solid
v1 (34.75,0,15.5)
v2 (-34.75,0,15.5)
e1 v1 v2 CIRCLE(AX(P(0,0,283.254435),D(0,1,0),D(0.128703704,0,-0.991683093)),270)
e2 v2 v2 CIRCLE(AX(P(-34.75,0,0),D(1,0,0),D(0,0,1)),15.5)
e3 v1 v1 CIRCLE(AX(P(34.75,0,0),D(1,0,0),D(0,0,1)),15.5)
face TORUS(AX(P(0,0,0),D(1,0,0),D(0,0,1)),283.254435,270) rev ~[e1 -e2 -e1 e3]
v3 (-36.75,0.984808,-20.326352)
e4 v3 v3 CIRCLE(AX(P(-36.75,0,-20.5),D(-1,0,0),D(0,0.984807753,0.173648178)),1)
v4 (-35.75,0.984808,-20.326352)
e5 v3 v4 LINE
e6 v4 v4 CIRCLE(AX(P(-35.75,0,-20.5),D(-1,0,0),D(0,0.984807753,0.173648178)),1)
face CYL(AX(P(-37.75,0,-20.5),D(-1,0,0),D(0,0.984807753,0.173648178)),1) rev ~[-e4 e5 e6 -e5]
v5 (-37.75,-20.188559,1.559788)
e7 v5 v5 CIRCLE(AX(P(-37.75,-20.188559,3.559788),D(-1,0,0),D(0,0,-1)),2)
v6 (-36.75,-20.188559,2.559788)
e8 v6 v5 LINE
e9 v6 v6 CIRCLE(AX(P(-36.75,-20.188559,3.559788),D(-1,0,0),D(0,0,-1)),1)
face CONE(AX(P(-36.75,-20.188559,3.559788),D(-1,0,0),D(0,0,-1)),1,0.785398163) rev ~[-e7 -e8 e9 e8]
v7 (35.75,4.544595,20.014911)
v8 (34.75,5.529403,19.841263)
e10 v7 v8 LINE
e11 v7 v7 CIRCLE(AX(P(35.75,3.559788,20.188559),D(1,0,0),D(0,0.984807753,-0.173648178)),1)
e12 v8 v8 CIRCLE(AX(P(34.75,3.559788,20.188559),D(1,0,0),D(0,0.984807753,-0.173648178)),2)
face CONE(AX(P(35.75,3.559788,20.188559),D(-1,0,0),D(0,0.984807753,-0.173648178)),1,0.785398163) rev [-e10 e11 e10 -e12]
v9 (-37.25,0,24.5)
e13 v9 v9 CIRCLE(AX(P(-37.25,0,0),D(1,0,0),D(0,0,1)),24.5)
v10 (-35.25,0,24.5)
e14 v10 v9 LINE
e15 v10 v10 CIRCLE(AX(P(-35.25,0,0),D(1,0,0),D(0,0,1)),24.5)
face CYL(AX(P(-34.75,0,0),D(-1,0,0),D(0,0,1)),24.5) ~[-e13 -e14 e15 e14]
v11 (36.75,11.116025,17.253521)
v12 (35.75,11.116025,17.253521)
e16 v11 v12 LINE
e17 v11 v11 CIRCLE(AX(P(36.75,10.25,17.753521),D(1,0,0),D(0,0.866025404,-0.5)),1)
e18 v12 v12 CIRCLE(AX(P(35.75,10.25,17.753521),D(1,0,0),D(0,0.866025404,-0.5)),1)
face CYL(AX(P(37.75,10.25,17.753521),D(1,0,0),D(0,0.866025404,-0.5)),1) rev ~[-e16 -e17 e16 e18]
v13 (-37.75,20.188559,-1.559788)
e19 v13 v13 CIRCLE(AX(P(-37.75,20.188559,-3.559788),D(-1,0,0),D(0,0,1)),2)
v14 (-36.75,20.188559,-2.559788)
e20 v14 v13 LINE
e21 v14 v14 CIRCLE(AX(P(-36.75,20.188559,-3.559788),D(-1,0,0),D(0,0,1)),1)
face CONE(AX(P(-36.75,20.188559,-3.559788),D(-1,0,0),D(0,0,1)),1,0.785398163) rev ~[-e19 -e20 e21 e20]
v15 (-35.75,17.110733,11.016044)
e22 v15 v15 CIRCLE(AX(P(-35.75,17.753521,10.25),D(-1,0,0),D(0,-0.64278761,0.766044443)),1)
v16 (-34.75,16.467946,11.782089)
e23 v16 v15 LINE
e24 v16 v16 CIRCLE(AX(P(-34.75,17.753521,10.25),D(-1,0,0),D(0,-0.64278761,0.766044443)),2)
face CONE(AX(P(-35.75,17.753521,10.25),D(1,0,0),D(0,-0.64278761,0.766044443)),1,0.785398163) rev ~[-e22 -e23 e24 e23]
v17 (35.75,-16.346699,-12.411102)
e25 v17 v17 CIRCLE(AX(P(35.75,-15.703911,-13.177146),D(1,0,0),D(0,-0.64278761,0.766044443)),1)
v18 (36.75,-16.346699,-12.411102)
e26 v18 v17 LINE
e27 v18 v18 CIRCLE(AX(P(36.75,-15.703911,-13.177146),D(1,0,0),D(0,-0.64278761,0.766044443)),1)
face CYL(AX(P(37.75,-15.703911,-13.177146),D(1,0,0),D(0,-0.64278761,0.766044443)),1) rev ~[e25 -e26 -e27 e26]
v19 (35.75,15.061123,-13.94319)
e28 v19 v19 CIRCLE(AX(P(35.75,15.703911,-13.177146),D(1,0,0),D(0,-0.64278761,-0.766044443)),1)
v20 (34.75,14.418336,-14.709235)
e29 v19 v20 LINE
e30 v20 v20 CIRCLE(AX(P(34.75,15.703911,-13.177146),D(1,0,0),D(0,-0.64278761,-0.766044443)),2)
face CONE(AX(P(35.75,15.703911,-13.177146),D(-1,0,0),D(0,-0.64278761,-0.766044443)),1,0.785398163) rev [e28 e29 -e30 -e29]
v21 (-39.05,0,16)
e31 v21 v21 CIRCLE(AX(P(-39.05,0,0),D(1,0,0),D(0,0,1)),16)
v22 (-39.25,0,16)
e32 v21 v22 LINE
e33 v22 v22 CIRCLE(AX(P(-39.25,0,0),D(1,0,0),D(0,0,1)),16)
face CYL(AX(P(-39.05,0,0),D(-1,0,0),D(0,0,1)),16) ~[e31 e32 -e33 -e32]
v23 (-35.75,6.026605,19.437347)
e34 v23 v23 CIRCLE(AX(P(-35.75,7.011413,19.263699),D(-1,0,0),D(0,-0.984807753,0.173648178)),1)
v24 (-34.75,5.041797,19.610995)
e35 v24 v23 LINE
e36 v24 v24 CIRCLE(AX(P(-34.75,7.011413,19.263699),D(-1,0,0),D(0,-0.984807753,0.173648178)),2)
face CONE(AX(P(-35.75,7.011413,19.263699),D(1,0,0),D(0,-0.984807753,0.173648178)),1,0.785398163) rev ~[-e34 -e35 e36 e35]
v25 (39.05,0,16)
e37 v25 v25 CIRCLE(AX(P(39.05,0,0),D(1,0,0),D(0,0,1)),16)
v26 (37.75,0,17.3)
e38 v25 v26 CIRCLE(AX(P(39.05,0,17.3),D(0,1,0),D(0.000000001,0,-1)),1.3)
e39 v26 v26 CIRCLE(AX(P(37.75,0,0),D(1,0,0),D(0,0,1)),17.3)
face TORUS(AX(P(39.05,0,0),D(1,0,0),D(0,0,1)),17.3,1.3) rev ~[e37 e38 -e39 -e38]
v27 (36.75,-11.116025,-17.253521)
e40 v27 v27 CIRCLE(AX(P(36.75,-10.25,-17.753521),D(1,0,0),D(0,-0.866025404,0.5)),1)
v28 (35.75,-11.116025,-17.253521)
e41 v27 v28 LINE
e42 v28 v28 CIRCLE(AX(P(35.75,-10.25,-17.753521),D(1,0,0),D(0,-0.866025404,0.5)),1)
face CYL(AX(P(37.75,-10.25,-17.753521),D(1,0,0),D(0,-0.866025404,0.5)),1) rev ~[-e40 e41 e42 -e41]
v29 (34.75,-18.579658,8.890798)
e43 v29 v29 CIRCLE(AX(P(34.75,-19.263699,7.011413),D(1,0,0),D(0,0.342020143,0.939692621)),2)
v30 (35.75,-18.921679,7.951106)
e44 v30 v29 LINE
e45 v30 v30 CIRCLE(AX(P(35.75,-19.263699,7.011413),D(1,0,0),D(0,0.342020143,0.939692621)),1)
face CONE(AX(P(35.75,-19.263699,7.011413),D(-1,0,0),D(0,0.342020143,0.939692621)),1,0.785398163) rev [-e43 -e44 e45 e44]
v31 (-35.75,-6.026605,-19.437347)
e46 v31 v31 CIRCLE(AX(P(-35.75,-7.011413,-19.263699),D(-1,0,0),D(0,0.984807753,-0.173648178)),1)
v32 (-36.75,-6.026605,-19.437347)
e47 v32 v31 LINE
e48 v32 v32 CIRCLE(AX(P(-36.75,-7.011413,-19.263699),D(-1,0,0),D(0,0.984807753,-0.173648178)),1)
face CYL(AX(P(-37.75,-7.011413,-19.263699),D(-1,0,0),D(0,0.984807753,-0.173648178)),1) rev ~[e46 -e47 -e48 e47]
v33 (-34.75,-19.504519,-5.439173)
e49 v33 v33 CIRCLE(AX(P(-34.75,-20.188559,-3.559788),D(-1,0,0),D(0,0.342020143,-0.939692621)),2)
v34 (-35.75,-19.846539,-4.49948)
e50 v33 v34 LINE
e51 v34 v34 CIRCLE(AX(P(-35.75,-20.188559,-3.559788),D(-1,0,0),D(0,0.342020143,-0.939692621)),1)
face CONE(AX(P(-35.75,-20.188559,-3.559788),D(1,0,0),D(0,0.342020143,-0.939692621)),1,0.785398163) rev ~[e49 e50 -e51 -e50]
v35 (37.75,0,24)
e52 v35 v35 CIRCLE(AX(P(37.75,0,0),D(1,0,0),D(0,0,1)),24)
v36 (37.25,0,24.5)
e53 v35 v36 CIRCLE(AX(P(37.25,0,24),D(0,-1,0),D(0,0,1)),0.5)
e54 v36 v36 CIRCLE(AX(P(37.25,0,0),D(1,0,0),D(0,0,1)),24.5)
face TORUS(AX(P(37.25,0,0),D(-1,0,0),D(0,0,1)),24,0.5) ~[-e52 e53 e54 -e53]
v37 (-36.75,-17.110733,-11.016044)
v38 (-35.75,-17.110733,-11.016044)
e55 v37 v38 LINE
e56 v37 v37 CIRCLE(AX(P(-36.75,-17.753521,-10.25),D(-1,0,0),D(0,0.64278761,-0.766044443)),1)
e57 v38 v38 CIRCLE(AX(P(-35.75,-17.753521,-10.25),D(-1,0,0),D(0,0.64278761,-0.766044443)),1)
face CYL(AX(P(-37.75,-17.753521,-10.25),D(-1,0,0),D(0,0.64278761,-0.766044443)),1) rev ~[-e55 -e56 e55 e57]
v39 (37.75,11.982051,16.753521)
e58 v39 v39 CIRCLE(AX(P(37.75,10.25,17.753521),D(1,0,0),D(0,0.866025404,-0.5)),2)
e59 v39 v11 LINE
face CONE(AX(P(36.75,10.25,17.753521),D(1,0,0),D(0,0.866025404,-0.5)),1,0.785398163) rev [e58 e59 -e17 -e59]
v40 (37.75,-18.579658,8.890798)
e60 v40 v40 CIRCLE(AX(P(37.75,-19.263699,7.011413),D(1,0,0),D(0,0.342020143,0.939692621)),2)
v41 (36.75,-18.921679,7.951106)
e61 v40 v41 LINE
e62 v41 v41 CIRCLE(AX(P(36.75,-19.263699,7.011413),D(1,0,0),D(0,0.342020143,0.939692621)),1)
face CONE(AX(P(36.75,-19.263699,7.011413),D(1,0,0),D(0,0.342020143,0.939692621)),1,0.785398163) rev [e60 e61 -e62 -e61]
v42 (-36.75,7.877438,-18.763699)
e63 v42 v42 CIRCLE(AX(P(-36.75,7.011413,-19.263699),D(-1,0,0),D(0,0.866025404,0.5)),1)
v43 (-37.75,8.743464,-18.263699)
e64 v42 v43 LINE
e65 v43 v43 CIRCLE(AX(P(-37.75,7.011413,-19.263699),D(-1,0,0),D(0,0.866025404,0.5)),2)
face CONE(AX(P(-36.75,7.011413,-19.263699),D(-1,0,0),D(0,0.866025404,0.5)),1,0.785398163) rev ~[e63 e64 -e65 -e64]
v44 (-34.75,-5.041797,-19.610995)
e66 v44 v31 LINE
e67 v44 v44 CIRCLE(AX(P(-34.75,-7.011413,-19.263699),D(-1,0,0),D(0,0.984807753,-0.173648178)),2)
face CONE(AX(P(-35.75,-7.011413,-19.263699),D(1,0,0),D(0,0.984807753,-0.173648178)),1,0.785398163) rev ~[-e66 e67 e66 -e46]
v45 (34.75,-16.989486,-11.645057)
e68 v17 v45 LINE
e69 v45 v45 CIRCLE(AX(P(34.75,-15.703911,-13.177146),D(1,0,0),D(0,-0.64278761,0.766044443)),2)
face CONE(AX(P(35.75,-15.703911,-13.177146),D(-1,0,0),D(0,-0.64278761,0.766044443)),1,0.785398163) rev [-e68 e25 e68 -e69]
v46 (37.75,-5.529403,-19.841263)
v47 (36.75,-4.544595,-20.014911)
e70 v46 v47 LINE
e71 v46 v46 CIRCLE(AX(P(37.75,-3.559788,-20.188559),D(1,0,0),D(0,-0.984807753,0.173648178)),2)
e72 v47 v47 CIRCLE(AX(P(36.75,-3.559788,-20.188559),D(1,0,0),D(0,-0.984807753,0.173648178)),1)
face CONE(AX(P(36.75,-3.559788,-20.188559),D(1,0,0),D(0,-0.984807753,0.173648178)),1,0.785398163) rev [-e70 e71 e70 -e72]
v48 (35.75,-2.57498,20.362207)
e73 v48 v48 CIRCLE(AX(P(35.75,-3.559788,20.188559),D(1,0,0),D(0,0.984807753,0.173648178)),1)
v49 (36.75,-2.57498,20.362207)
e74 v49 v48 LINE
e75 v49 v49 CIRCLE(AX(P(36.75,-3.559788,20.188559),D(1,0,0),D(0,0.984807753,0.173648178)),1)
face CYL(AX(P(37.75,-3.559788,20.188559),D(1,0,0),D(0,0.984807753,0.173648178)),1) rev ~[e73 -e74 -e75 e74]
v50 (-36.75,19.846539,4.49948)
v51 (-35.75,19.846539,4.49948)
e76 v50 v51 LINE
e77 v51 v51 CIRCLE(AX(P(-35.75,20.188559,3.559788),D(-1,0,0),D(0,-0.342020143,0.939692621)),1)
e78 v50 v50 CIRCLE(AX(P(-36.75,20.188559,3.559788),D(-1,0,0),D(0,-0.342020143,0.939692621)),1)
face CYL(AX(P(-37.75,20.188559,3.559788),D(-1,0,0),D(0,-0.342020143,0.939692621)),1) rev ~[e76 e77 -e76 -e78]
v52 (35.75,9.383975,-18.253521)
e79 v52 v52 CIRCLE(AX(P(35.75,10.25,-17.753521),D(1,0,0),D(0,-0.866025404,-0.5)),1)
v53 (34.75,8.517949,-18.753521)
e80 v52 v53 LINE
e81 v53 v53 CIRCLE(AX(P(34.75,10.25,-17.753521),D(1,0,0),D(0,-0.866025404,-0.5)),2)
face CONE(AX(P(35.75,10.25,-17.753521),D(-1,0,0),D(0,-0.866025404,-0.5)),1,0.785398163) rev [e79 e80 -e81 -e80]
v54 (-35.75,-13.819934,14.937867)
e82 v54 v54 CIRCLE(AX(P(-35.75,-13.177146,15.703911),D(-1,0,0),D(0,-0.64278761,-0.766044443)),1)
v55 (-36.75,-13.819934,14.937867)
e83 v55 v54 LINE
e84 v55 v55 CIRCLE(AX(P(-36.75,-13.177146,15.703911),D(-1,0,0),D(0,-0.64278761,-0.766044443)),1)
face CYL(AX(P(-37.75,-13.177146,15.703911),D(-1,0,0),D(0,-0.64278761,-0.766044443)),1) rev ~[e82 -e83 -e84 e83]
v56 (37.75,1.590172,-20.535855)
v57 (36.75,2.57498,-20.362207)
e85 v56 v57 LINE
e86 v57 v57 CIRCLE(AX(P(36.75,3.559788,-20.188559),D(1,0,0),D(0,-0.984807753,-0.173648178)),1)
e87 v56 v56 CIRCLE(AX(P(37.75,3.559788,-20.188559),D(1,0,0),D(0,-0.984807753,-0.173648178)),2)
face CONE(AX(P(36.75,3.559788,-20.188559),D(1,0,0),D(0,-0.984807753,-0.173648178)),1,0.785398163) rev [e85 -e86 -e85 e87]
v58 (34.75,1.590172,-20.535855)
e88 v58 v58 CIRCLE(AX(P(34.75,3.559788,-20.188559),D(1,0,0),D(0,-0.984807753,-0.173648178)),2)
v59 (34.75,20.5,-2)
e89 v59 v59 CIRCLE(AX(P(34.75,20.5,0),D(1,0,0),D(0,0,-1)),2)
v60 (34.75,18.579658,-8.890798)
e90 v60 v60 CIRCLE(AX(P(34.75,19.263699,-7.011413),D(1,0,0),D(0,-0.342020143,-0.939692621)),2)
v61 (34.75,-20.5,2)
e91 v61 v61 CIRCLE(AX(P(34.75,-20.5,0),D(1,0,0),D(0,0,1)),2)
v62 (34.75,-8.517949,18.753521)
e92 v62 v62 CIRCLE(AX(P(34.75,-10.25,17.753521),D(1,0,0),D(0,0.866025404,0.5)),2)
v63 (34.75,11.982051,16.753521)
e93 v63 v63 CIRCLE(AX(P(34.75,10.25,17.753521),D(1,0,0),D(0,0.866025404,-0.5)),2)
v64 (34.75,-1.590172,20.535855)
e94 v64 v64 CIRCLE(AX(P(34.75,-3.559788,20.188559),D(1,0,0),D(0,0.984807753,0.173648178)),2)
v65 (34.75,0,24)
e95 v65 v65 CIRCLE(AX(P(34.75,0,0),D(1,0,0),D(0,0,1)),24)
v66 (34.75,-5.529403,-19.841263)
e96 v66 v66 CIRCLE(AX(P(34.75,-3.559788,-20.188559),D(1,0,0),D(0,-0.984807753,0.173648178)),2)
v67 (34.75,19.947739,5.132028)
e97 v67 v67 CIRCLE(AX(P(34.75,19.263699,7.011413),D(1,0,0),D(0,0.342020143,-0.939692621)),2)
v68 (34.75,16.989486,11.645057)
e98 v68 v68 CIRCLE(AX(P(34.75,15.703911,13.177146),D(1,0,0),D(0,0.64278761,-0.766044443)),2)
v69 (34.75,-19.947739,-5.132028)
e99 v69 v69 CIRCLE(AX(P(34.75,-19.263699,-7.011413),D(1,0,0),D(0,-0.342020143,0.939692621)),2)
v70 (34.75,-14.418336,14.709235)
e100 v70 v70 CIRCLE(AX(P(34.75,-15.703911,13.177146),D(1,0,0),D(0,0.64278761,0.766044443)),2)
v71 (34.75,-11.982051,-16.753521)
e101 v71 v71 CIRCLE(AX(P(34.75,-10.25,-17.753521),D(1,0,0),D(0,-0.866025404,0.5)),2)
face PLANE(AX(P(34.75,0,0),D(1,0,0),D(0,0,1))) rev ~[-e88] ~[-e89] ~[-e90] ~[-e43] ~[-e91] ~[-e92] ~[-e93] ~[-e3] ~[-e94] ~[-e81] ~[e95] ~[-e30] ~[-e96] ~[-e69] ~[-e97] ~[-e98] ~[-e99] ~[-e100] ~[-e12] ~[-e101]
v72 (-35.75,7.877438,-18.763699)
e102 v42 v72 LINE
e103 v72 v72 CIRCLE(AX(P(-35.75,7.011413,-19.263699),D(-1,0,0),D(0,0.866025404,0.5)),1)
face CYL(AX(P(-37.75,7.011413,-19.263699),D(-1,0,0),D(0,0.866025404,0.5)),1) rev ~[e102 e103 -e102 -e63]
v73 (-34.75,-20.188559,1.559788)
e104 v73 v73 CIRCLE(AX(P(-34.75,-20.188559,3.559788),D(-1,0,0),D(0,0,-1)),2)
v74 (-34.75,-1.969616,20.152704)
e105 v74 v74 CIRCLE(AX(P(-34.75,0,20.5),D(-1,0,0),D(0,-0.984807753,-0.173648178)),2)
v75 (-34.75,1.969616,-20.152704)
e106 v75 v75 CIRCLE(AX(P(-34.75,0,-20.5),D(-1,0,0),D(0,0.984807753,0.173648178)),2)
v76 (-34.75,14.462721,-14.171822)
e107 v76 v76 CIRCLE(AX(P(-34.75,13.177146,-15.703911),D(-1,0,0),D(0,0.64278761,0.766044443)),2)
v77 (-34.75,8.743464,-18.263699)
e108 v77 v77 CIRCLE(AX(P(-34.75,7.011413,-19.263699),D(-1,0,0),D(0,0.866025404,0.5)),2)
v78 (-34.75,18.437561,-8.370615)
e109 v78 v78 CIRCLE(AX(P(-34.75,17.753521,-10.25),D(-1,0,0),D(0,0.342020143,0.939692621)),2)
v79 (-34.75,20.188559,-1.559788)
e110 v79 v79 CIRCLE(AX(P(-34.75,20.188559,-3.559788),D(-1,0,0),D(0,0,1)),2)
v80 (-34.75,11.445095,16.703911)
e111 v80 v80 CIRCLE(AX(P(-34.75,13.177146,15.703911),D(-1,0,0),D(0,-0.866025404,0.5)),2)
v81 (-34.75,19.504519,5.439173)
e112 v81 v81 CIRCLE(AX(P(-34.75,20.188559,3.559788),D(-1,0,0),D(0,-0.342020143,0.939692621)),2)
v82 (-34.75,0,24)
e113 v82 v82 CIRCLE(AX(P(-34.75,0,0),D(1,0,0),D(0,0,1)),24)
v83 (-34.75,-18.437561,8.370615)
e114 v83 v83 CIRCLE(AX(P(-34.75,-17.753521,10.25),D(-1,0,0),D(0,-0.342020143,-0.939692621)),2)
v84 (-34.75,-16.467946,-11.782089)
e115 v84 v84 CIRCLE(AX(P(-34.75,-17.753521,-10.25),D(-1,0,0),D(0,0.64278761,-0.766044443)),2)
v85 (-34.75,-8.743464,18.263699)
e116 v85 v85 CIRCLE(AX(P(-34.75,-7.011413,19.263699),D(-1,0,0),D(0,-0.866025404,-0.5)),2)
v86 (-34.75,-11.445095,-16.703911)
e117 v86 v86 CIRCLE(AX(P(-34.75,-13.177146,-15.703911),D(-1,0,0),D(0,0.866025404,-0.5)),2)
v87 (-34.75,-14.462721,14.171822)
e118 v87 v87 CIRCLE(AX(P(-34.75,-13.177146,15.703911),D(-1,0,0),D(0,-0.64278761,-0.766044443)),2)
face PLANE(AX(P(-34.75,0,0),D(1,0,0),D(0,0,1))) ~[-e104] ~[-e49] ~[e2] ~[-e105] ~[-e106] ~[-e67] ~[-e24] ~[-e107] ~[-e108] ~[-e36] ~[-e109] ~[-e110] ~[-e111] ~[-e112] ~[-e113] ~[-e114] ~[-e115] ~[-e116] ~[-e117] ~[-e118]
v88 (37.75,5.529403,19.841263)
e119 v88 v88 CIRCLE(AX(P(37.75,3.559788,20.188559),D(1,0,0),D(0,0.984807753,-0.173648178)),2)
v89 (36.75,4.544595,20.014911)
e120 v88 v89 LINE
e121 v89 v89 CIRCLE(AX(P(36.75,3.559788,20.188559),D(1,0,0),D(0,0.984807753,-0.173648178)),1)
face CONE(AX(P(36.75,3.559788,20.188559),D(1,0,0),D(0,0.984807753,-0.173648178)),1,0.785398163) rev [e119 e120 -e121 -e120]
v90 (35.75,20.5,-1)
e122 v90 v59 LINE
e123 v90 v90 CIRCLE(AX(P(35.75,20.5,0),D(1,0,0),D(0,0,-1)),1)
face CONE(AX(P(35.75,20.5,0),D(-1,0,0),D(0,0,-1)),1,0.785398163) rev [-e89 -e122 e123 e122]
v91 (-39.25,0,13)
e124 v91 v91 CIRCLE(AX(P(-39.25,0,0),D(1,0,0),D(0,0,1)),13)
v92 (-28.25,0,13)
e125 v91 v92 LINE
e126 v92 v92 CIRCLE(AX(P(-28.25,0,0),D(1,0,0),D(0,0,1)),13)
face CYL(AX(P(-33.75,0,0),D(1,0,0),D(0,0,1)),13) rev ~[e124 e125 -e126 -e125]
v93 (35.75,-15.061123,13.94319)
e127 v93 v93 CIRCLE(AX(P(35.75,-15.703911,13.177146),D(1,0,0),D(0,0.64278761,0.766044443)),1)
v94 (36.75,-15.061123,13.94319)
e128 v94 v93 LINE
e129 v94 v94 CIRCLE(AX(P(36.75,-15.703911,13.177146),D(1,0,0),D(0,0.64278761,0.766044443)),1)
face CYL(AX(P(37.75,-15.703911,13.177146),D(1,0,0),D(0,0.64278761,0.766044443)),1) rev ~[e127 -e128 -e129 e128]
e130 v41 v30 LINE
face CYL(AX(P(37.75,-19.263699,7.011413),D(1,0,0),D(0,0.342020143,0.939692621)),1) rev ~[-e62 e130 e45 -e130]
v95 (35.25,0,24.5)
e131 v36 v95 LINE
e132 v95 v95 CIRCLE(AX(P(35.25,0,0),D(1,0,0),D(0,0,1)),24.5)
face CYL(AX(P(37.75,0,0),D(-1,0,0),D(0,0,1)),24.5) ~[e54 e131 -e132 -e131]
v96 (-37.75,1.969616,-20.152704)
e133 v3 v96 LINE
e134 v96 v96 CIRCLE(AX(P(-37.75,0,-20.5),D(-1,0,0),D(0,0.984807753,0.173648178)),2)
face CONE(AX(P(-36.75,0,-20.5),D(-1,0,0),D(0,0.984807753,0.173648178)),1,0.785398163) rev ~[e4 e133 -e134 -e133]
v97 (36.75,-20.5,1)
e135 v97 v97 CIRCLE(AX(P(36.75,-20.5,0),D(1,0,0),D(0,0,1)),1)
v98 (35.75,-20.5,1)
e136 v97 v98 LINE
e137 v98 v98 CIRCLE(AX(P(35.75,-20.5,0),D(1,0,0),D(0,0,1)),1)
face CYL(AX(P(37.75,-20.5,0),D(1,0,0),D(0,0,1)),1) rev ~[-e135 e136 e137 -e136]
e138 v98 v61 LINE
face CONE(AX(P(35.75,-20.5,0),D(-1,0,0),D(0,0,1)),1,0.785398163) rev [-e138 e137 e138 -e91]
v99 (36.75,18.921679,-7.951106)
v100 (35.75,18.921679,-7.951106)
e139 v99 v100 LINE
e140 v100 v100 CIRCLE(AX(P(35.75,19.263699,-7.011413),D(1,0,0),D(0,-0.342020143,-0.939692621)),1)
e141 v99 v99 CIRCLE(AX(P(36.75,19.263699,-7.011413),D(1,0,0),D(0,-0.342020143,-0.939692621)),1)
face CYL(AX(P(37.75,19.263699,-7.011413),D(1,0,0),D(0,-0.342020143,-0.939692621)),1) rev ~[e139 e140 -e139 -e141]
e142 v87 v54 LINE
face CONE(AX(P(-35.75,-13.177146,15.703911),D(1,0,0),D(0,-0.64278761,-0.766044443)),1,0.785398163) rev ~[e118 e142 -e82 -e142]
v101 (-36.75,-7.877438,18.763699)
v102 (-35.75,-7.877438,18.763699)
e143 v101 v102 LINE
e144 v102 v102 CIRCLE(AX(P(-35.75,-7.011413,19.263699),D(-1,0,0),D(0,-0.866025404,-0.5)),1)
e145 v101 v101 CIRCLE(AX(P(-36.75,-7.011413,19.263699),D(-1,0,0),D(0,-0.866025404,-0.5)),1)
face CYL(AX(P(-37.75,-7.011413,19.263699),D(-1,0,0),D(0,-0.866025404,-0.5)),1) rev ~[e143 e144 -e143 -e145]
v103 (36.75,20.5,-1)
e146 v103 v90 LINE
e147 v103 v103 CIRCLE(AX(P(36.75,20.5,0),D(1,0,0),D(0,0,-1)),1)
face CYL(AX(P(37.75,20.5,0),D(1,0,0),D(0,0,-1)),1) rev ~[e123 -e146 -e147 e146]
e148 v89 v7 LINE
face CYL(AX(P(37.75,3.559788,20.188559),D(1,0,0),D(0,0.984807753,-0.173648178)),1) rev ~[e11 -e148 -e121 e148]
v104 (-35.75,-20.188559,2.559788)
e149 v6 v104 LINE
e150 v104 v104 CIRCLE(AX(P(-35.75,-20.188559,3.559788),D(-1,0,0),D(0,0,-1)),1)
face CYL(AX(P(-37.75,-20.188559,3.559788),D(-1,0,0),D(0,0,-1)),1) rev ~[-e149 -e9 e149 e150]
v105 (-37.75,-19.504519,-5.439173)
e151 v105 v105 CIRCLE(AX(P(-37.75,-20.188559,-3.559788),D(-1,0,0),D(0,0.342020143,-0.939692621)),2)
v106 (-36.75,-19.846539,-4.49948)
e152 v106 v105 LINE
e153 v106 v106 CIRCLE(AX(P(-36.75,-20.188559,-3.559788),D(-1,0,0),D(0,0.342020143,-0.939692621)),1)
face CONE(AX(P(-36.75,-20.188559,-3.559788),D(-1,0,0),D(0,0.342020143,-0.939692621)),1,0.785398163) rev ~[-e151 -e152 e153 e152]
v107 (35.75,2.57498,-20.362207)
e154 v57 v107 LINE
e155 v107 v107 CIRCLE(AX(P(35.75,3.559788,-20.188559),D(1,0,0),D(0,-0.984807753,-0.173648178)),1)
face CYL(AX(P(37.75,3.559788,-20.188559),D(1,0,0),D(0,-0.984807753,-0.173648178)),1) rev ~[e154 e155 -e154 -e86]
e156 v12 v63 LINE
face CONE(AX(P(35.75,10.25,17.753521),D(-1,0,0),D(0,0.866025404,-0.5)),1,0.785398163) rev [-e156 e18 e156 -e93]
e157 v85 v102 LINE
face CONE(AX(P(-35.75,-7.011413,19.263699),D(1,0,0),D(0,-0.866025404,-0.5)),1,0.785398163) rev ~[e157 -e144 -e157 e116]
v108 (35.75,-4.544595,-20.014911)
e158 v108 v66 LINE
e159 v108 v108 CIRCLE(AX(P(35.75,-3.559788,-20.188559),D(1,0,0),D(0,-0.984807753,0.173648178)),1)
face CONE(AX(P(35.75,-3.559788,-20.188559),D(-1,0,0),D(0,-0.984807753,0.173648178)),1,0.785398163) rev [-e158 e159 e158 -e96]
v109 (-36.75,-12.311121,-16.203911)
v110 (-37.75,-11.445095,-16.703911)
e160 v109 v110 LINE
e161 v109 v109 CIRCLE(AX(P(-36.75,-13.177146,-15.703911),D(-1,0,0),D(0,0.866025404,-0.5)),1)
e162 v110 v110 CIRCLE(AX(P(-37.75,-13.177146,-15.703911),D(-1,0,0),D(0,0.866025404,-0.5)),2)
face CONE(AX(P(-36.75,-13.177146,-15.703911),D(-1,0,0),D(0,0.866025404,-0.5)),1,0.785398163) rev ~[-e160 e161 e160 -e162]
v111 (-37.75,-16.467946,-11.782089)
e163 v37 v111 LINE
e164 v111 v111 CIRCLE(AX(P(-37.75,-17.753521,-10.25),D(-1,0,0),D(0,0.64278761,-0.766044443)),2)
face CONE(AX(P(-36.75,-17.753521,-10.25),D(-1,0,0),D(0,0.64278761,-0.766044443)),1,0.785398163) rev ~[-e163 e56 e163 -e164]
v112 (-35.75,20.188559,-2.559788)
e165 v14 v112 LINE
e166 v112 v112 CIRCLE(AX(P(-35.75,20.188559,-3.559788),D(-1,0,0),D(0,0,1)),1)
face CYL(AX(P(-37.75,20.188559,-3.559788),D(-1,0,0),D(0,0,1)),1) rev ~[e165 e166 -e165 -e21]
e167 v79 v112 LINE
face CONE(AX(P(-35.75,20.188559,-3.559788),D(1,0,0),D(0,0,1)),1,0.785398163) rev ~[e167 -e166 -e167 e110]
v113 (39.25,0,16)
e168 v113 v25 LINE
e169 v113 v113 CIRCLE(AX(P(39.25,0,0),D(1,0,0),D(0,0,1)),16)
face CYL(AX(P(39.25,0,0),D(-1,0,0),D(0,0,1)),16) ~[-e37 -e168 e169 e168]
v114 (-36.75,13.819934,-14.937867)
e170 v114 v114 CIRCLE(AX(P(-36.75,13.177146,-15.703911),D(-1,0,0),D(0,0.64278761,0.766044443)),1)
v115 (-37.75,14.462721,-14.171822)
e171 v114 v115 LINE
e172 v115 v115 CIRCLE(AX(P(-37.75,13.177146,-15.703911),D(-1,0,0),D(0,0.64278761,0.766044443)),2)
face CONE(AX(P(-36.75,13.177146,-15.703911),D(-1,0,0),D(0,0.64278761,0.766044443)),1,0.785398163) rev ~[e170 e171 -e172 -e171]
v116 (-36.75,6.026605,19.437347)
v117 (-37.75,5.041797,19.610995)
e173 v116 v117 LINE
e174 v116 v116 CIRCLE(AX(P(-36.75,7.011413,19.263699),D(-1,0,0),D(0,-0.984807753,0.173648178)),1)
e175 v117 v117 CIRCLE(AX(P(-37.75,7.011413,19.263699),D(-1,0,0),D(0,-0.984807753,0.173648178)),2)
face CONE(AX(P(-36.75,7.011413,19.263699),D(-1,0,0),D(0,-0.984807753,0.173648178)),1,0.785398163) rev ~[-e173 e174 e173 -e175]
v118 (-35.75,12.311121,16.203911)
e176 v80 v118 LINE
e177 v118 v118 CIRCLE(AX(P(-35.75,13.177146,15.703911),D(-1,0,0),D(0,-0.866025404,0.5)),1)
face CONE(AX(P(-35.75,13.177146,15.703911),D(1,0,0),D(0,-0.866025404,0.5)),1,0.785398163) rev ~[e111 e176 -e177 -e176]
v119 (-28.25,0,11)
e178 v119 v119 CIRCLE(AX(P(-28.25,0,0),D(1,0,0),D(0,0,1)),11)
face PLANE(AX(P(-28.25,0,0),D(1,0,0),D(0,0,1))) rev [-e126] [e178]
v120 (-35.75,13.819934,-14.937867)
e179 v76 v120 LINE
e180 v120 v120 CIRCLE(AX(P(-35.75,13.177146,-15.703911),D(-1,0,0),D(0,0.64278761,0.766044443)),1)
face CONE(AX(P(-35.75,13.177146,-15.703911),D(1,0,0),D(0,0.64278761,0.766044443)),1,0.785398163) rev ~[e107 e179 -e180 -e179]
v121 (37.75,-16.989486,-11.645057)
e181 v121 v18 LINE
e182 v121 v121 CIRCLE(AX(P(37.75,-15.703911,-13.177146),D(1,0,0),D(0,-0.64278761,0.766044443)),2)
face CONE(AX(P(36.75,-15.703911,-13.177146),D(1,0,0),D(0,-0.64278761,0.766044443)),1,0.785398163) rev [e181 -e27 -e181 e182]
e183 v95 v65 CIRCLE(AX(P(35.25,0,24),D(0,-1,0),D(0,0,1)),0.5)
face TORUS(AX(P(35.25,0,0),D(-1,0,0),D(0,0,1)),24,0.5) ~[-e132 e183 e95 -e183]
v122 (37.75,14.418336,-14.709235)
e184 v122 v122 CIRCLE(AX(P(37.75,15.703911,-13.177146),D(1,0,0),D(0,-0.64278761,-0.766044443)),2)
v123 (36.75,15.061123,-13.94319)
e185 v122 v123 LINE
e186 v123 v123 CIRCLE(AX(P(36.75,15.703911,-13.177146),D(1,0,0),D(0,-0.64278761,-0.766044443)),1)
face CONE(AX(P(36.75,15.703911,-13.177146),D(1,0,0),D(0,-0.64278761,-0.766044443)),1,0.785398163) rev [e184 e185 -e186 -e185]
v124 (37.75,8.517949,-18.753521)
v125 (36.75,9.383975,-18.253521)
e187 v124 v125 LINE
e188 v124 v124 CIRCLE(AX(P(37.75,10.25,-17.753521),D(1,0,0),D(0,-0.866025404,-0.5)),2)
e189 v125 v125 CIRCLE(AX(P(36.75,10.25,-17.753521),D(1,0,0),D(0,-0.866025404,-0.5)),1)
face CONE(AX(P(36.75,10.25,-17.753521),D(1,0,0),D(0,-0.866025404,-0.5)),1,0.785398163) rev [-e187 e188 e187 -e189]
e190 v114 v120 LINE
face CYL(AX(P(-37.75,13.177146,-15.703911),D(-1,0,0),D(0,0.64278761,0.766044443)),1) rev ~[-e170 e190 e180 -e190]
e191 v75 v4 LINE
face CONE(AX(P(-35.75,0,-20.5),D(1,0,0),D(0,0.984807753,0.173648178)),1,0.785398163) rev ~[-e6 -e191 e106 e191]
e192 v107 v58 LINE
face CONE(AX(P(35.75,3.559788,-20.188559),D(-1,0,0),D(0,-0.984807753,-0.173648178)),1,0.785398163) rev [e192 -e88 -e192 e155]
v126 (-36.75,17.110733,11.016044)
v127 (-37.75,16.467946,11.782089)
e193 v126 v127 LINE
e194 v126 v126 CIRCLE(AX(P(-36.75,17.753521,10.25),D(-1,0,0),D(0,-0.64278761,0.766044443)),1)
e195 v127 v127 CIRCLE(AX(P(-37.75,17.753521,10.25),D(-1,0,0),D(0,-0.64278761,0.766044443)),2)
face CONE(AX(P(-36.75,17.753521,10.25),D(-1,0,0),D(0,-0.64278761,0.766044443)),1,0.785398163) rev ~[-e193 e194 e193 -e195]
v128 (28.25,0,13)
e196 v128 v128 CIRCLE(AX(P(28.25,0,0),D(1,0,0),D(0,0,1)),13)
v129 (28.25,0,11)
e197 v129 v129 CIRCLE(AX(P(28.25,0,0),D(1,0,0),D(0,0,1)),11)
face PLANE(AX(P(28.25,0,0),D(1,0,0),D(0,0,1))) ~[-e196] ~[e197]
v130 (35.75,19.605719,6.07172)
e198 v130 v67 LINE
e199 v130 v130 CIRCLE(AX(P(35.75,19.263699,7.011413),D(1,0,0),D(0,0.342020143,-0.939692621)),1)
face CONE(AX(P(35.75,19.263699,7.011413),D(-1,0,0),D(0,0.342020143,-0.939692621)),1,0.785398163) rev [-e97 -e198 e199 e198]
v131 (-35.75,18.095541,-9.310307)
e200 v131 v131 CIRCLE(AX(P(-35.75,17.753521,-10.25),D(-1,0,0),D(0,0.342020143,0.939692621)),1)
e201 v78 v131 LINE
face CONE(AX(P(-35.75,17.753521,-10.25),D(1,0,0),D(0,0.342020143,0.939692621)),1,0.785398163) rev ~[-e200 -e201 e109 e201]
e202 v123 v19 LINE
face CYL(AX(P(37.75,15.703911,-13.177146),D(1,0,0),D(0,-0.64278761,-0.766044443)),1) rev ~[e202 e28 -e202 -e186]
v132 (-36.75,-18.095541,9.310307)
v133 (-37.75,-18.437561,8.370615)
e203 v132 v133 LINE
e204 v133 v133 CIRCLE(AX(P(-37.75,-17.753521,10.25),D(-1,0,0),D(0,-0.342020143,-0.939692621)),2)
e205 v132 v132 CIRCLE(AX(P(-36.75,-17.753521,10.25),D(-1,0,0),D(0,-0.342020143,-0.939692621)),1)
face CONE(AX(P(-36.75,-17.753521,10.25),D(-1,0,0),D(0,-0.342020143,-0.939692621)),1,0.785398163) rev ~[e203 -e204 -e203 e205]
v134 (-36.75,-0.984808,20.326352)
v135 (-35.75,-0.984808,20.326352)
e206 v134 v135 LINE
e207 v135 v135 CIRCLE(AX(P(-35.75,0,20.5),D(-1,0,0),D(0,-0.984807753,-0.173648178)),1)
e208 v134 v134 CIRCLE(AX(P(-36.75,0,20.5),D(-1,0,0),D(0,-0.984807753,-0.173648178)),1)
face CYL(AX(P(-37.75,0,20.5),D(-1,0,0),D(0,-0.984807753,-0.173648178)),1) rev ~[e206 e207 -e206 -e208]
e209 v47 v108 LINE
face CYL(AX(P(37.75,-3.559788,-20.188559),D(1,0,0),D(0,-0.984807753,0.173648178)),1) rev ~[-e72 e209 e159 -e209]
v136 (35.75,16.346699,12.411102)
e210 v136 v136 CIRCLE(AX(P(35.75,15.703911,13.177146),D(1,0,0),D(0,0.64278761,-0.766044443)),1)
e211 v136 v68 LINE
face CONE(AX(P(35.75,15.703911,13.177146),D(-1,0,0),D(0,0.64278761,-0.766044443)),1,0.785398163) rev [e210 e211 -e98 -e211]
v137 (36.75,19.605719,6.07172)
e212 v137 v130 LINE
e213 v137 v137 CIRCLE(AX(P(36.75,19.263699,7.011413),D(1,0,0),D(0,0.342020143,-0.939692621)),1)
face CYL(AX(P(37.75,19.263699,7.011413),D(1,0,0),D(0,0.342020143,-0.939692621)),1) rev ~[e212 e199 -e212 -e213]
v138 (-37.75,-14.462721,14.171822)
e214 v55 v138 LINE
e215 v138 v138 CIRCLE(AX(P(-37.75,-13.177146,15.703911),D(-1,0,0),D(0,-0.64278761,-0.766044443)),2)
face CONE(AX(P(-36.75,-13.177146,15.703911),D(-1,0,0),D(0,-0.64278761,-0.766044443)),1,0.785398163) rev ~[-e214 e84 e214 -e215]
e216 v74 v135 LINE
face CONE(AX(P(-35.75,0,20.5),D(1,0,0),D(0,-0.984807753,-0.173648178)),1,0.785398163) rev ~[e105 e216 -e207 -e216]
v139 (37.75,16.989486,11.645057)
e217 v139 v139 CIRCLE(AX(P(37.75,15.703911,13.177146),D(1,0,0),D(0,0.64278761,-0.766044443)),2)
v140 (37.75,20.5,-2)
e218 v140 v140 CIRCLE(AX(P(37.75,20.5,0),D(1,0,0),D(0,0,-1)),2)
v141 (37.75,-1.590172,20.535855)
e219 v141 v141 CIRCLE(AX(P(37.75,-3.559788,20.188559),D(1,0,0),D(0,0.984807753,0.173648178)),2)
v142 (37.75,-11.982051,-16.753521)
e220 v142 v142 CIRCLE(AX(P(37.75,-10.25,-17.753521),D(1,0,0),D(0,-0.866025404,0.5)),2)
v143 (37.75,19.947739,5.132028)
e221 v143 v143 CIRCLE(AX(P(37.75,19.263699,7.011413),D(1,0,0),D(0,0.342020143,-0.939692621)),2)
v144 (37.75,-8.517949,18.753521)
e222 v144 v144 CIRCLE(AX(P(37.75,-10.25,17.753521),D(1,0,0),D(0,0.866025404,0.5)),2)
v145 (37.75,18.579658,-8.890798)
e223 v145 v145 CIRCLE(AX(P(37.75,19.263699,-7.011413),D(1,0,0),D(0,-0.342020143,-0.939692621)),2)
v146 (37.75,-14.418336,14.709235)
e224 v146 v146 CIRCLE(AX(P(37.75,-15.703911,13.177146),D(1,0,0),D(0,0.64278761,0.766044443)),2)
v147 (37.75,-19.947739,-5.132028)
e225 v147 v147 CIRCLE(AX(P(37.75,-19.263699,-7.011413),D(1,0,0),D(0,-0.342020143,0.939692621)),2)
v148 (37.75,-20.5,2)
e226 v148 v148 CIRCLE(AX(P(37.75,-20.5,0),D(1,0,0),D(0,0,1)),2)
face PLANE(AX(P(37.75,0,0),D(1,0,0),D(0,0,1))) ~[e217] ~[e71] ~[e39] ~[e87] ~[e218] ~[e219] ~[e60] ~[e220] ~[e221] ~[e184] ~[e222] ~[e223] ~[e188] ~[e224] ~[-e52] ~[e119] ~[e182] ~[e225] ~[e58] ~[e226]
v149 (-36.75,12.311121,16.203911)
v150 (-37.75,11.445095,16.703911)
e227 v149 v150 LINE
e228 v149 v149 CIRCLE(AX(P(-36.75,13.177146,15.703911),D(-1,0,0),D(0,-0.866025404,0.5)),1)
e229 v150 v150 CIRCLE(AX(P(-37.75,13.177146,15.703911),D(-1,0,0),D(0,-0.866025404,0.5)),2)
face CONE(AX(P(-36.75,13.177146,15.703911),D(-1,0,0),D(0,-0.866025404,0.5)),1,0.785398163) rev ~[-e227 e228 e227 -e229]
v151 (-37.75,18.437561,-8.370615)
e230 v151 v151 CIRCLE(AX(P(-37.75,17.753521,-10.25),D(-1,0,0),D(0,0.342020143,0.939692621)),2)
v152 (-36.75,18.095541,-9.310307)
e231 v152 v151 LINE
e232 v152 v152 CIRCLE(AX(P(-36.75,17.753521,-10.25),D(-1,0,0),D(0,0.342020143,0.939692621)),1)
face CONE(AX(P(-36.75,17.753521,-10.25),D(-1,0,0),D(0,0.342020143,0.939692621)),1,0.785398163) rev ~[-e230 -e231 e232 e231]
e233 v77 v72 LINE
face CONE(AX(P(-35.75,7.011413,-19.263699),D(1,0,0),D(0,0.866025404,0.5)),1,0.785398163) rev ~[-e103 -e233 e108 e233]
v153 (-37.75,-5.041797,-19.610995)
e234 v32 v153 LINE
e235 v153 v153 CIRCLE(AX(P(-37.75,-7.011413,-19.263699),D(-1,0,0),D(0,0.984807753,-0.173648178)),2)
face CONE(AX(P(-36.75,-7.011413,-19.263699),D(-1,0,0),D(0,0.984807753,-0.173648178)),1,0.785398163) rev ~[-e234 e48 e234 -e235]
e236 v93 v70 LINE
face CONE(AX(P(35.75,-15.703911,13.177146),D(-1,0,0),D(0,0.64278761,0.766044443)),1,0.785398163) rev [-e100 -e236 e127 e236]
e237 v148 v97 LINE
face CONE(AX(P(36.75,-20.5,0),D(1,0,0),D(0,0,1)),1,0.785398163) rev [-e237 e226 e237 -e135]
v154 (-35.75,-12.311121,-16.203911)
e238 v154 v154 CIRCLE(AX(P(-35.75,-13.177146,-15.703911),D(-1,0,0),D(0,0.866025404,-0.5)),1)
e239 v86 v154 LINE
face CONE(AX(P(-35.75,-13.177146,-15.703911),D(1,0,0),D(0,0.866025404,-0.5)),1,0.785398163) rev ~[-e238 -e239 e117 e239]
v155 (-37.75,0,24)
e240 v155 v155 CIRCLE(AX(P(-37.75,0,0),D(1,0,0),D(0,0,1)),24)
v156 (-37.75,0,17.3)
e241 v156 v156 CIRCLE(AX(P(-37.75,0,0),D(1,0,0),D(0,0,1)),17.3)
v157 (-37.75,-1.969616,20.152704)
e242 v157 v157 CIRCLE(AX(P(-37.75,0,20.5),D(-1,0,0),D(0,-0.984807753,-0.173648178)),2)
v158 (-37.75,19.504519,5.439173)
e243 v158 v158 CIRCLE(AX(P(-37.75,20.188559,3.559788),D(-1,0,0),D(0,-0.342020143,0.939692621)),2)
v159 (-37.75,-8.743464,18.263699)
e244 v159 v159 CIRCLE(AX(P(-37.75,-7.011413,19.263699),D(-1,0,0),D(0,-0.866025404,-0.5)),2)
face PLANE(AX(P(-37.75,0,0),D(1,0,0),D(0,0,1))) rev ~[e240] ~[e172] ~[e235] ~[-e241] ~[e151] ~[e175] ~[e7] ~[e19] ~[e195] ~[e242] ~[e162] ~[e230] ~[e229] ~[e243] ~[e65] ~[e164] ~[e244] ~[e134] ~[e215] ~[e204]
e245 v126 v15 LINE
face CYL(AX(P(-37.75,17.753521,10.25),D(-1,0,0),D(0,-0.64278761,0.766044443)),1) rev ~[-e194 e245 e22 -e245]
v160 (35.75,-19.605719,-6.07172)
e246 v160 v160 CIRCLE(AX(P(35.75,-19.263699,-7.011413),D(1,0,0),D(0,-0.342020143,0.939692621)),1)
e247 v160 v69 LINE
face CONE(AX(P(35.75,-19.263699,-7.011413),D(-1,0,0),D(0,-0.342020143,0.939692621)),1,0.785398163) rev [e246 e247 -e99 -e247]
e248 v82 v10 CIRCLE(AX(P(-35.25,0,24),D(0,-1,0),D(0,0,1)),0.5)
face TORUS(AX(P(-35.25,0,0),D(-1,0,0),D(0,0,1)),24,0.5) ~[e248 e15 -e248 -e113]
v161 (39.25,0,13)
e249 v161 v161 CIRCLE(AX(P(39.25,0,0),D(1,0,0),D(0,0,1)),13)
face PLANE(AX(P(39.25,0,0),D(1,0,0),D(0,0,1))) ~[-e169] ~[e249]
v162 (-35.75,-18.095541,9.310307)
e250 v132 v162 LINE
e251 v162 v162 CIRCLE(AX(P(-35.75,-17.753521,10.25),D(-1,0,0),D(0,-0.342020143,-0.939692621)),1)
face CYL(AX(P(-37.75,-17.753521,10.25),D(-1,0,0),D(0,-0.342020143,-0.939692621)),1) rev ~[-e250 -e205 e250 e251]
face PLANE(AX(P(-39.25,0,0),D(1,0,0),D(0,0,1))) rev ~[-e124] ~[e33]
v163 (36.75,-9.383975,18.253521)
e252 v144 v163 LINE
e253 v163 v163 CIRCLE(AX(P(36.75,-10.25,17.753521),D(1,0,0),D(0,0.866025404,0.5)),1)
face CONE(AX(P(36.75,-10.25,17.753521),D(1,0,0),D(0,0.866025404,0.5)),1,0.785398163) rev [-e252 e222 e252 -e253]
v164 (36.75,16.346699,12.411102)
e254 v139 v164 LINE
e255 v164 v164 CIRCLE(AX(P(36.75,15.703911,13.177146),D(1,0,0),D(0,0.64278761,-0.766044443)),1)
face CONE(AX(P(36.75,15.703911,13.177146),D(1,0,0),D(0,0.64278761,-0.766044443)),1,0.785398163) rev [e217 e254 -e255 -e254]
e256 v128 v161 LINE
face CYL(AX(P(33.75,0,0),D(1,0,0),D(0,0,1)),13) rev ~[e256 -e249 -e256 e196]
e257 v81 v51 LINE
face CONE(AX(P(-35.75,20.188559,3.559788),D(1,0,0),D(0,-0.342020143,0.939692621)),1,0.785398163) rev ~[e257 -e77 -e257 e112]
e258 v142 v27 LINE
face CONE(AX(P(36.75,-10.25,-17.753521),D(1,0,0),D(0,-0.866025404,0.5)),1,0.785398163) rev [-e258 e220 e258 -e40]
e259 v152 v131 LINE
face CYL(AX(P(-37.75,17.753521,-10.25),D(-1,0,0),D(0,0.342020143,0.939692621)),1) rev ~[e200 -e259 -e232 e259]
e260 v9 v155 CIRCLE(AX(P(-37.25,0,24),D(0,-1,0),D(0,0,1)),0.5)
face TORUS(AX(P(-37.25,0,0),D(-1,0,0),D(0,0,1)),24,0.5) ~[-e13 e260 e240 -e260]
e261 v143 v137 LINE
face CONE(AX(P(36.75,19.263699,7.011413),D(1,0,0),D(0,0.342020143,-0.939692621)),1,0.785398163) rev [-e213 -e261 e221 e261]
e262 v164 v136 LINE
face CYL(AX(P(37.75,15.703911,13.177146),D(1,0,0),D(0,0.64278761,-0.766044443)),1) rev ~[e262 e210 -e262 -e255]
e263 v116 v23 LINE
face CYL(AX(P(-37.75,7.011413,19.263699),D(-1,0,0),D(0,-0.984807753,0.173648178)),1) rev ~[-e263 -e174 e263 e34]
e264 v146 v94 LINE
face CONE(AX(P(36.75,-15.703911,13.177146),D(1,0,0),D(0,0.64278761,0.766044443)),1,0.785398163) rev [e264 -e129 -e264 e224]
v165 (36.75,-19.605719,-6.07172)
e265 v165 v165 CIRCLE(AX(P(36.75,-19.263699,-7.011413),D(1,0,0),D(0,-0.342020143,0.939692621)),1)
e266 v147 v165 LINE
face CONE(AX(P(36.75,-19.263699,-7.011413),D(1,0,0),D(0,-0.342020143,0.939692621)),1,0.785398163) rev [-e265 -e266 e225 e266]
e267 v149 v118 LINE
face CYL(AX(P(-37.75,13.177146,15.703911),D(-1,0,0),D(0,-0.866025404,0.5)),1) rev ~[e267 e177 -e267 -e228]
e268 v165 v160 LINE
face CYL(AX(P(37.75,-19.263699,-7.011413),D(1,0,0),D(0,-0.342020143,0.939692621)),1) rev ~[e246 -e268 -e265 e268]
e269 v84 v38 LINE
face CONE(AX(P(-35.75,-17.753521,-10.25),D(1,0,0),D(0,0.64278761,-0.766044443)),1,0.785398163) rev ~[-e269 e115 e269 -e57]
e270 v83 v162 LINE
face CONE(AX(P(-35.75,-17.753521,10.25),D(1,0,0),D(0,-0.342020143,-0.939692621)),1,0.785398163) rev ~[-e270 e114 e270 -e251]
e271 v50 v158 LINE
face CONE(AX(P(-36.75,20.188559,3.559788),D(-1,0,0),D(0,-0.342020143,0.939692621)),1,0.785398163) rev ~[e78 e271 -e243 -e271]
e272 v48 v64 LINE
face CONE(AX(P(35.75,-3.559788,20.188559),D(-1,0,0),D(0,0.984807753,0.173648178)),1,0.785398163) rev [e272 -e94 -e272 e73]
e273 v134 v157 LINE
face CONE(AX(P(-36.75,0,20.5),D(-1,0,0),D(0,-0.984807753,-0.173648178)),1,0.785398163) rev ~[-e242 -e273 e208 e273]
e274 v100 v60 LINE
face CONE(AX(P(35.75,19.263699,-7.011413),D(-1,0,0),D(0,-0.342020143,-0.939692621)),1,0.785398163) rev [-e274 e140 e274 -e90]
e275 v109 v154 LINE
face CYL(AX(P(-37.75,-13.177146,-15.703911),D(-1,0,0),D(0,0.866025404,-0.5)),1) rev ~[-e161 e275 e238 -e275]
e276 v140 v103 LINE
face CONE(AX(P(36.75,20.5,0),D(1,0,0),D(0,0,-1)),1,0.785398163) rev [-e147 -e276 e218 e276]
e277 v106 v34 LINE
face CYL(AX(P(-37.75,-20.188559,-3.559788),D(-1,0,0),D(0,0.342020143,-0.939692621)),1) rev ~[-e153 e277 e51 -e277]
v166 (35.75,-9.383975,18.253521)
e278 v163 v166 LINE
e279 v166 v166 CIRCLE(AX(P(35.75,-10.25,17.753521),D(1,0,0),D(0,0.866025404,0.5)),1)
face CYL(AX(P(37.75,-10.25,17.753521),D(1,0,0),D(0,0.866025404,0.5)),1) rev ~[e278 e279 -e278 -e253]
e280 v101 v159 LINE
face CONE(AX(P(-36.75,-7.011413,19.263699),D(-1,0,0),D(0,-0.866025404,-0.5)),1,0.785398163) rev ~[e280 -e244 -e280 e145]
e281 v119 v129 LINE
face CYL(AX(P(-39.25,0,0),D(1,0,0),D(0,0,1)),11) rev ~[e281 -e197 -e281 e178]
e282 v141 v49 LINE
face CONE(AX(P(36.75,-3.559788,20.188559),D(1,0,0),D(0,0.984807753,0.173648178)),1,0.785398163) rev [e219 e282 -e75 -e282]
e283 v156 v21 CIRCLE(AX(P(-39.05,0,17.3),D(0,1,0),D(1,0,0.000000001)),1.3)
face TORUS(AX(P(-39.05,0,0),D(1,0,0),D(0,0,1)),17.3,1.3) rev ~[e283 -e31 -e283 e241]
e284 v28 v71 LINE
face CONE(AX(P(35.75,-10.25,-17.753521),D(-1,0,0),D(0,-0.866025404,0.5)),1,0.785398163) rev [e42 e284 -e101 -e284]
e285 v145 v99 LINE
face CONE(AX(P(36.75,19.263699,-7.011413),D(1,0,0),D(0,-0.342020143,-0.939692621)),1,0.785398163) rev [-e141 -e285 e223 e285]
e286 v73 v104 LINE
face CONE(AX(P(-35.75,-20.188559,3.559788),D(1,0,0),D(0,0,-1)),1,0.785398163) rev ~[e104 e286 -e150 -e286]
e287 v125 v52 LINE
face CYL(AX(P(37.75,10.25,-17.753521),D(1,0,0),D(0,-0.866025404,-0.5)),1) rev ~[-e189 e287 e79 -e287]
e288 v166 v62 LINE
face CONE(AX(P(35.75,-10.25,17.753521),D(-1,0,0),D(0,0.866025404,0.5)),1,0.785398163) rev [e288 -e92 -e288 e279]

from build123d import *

# Parameters (mm, degrees)
CONG_1_R                                  = 0.5
ESQUISSE2_R                               = 1
ENL_V_MAT_EXTRU_1_DEPTH                   = 3
ESQUISSE3_R                               = 1
ENL_V_MAT_EXTRU_2_DEPTH                   = 3
CHANFREIN1_SIZE                           = 1
R_P_TITION_CIRCULAIRE1_COUNT              = 18
CHANFREIN1_OF_R_P_TITION_CIRCULAIRE1_SIZE = 1
ESQUISSE4_W                               = 11
ESQUISSE4_H                               = 13


with BuildPart() as part:
    # Esquisse1 → Révolution1 (revolve)
    with BuildSketch(Plane.XY, mode=Mode.PRIVATE) as r_volution1_sk:
        with BuildLine():
            Line((-39.25, 11), (39.25, 11))
            Line((39.25, 11), (39.25, 16))
            Line((39.25, 16), (39.05, 16))
            ThreePointArc((39.05, 16), (38.130761184, 16.380761184), (37.75, 17.3))
            Line((37.75, 17.3), (37.75, 24.5))
            Line((37.75, 24.5), (34.75, 24.5))
            Line((34.75, 24.5), (34.75, 15.5))
            ThreePointArc((34.75, 15.5), (0, 13.254435071), (-34.75, 15.5))
            Line((-34.75, 15.5), (-34.75, 24.5))
            Line((-34.75, 24.5), (-37.75, 24.5))
            Line((-37.75, 24.5), (-37.75, 17.3))
            ThreePointArc((-37.75, 17.3), (-38.130761184, 16.380761184), (-39.05, 16))
            Line((-39.05, 16), (-39.25, 16))
            Line((-39.25, 16), (-39.25, 11))
        make_face()
    revolve(r_volution1_sk.sketch.rotate(Axis((-56.164462081, 0, 0), (1, 0, 0)), 90), axis=Axis((-56.164462081, 0, 0), (1, 0, 0)))  # turned: the seam where the file's is

    # Congé1
    cong_1_edges = [part.edges().sort_by_distance(p)[0] for p in [
        (34.75, 0, -24.5),
        (37.75, 0, -24.5),
        (-37.75, 0, -24.5),
        (-34.75, 0, -24.5),
    ]]
    fillet(cong_1_edges, radius=CONG_1_R)

    # Esquisse2 → Enlèv. mat.-Extru.1 (cut)
    with BuildSketch(Plane(origin=(37.75, 0, 0), x_dir=(0, 0, -1), z_dir=(1, 0, 0))):
        with Locations((0, 20.5)):
            Circle(ESQUISSE2_R)
    enl_v_mat_extru_1 = extrude(amount=-ENL_V_MAT_EXTRU_1_DEPTH, mode=Mode.SUBTRACT)

    # Esquisse3 → Enlèv. mat.-Extru.2 (cut)
    with BuildSketch(Plane.ZY.offset(37.75)):
        with Locations((-3.559787642, 20.188558937)):
            Circle(ESQUISSE3_R)
    enl_v_mat_extru_2 = extrude(amount=-ENL_V_MAT_EXTRU_2_DEPTH, mode=Mode.SUBTRACT)

    # Chanfrein1
    chanfrein1_edges = [part.edges().sort_by_distance(p)[0] for p in [
        (37.75, 20.5, 1),
        (34.75, 20.5, 1),
        (-34.75, 20.188558937, -4.559787642),
        (-37.75, 20.188558937, -4.559787642),
    ]]
    chamfer(chanfrein1_edges, length=CHANFREIN1_SIZE)

    # Répétition circulaire1: Enlèv. mat.-Extru.1, Enlèv. mat.-Extru.2 ×18 about axis
    r_p_tition_circulaire1_axis = Axis((0, 0, 0), (1, 0, 0))
    add([enl_v_mat_extru_1.rotate(r_p_tition_circulaire1_axis, i * 360 / R_P_TITION_CIRCULAIRE1_COUNT) for i in range(1, R_P_TITION_CIRCULAIRE1_COUNT)], mode=Mode.SUBTRACT)
    add([enl_v_mat_extru_2.rotate(r_p_tition_circulaire1_axis, i * 360 / R_P_TITION_CIRCULAIRE1_COUNT) for i in range(1, R_P_TITION_CIRCULAIRE1_COUNT)], mode=Mode.SUBTRACT)

    # Chanfrein1 of Répétition circulaire1
    chanfrein1_of_r_p_tition_circulaire1_edges = [part.edges().sort_by_distance(p)[0] for p in [
        (37.75, 18.921678583, 7.951105559),
        (34.75, 18.921678583, 7.951105559),
        (-34.75, 20.53057908, 2.620095021),
        (-37.75, 20.53057908, 2.620095021),
        (37.75, 15.061123474, 13.943190442),
        (34.75, 15.061123474, 13.943190442),
        (-34.75, 18.396308387, 9.483955557),
        (-37.75, 18.396308387, 9.483955557),
        (37.75, 9.383974596, 18.253520778),
        (34.75, 9.383974596, 18.253520778),
        (-34.75, 14.043171402, 15.203911084),
        (-37.75, 14.043171402, 15.203911084),
        (37.75, 2.574979889, 20.362207114),
        (34.75, 2.574979889, 20.362207114),
        (-34.75, 7.996220691, 19.090050548),
        (-37.75, 7.996220691, 19.090050548),
        (37.75, -4.544595395, 20.014910759),
        (34.75, -4.544595395, 20.014910759),
        (-34.75, 0.984807753, 20.673648178),
        (-37.75, 0.984807753, 20.673648178),
        (37.75, -11.116025404, 17.253520778),
        (34.75, -11.116025404, 17.253520778),
        (-34.75, -6.145387534, 19.763698726),
        (-37.75, -6.145387534, 19.763698726),
        (37.75, -16.346698694, 12.411101555),
        (34.75, -16.346698694, 12.411101555),
        (-34.75, -12.534358389, 16.469955527),
        (-37.75, -12.534358389, 16.469955527),
        (37.75, -19.605718869, 6.071720317),
        (34.75, -19.605718869, 6.071720317),
        (-34.75, -17.411500634, 11.189692621),
        (-37.75, -17.411500634, 11.189692621),
        (37.75, -20.5, -1),
        (34.75, -20.5, -1),
        (-34.75, -20.188558937, 4.559787642),
        (-37.75, -20.188558937, 4.559787642),
        (37.75, -18.921678583, -7.951105559),
        (34.75, -18.921678583, -7.951105559),
        (-34.75, -20.53057908, -2.620095021),
        (-37.75, -20.53057908, -2.620095021),
        (37.75, -15.061123474, -13.943190442),
        (34.75, -15.061123474, -13.943190442),
        (-34.75, -18.396308387, -9.483955557),
        (-37.75, -18.396308387, -9.483955557),
        (37.75, -9.383974596, -18.253520778),
        (34.75, -9.383974596, -18.253520778),
        (-34.75, -14.043171402, -15.203911084),
        (-37.75, -14.043171402, -15.203911084),
        (37.75, -2.574979889, -20.362207114),
        (34.75, -2.574979889, -20.362207114),
        (-34.75, -7.996220691, -19.090050548),
        (-37.75, -7.996220691, -19.090050548),
        (37.75, 4.544595395, -20.014910759),
        (34.75, 4.544595395, -20.014910759),
        (-34.75, -0.984807753, -20.673648178),
        (-37.75, -0.984807753, -20.673648178),
        (37.75, 11.116025404, -17.253520778),
        (34.75, 11.116025404, -17.253520778),
        (-34.75, 6.145387534, -19.763698726),
        (-37.75, 6.145387534, -19.763698726),
        (37.75, 16.346698694, -12.411101555),
        (34.75, 16.346698694, -12.411101555),
        (-34.75, 12.534358389, -16.469955527),
        (-37.75, 12.534358389, -16.469955527),
        (37.75, 19.605718869, -6.071720317),
        (34.75, 19.605718869, -6.071720317),
        (-34.75, 17.411500634, -11.189692621),
        (-37.75, 17.411500634, -11.189692621),
    ]]
    chamfer(chanfrein1_of_r_p_tition_circulaire1_edges, length=CHANFREIN1_OF_R_P_TITION_CIRCULAIRE1_SIZE)

    # Esquisse4 → Enlèvement de matière-Révolution3 (revolve, cut)
    with BuildSketch(Plane.XY, mode=Mode.PRIVATE) as enl_vement_de_mati_re_r_volution3_sk:
        with Locations((-33.75, 6.5)):
            Rectangle(ESQUISSE4_W, ESQUISSE4_H)
        with Locations((33.75, 6.5)):
            Rectangle(ESQUISSE4_W, ESQUISSE4_H)
    revolve(enl_vement_de_mati_re_r_volution3_sk.sketch.rotate(Axis((-42.495835783, 0, 0), (1, 0, 0)), 90), axis=Axis((-42.495835783, 0, 0), (1, 0, 0)), mode=Mode.SUBTRACT)  # turned: the seam where the file's is


solid = part.part
